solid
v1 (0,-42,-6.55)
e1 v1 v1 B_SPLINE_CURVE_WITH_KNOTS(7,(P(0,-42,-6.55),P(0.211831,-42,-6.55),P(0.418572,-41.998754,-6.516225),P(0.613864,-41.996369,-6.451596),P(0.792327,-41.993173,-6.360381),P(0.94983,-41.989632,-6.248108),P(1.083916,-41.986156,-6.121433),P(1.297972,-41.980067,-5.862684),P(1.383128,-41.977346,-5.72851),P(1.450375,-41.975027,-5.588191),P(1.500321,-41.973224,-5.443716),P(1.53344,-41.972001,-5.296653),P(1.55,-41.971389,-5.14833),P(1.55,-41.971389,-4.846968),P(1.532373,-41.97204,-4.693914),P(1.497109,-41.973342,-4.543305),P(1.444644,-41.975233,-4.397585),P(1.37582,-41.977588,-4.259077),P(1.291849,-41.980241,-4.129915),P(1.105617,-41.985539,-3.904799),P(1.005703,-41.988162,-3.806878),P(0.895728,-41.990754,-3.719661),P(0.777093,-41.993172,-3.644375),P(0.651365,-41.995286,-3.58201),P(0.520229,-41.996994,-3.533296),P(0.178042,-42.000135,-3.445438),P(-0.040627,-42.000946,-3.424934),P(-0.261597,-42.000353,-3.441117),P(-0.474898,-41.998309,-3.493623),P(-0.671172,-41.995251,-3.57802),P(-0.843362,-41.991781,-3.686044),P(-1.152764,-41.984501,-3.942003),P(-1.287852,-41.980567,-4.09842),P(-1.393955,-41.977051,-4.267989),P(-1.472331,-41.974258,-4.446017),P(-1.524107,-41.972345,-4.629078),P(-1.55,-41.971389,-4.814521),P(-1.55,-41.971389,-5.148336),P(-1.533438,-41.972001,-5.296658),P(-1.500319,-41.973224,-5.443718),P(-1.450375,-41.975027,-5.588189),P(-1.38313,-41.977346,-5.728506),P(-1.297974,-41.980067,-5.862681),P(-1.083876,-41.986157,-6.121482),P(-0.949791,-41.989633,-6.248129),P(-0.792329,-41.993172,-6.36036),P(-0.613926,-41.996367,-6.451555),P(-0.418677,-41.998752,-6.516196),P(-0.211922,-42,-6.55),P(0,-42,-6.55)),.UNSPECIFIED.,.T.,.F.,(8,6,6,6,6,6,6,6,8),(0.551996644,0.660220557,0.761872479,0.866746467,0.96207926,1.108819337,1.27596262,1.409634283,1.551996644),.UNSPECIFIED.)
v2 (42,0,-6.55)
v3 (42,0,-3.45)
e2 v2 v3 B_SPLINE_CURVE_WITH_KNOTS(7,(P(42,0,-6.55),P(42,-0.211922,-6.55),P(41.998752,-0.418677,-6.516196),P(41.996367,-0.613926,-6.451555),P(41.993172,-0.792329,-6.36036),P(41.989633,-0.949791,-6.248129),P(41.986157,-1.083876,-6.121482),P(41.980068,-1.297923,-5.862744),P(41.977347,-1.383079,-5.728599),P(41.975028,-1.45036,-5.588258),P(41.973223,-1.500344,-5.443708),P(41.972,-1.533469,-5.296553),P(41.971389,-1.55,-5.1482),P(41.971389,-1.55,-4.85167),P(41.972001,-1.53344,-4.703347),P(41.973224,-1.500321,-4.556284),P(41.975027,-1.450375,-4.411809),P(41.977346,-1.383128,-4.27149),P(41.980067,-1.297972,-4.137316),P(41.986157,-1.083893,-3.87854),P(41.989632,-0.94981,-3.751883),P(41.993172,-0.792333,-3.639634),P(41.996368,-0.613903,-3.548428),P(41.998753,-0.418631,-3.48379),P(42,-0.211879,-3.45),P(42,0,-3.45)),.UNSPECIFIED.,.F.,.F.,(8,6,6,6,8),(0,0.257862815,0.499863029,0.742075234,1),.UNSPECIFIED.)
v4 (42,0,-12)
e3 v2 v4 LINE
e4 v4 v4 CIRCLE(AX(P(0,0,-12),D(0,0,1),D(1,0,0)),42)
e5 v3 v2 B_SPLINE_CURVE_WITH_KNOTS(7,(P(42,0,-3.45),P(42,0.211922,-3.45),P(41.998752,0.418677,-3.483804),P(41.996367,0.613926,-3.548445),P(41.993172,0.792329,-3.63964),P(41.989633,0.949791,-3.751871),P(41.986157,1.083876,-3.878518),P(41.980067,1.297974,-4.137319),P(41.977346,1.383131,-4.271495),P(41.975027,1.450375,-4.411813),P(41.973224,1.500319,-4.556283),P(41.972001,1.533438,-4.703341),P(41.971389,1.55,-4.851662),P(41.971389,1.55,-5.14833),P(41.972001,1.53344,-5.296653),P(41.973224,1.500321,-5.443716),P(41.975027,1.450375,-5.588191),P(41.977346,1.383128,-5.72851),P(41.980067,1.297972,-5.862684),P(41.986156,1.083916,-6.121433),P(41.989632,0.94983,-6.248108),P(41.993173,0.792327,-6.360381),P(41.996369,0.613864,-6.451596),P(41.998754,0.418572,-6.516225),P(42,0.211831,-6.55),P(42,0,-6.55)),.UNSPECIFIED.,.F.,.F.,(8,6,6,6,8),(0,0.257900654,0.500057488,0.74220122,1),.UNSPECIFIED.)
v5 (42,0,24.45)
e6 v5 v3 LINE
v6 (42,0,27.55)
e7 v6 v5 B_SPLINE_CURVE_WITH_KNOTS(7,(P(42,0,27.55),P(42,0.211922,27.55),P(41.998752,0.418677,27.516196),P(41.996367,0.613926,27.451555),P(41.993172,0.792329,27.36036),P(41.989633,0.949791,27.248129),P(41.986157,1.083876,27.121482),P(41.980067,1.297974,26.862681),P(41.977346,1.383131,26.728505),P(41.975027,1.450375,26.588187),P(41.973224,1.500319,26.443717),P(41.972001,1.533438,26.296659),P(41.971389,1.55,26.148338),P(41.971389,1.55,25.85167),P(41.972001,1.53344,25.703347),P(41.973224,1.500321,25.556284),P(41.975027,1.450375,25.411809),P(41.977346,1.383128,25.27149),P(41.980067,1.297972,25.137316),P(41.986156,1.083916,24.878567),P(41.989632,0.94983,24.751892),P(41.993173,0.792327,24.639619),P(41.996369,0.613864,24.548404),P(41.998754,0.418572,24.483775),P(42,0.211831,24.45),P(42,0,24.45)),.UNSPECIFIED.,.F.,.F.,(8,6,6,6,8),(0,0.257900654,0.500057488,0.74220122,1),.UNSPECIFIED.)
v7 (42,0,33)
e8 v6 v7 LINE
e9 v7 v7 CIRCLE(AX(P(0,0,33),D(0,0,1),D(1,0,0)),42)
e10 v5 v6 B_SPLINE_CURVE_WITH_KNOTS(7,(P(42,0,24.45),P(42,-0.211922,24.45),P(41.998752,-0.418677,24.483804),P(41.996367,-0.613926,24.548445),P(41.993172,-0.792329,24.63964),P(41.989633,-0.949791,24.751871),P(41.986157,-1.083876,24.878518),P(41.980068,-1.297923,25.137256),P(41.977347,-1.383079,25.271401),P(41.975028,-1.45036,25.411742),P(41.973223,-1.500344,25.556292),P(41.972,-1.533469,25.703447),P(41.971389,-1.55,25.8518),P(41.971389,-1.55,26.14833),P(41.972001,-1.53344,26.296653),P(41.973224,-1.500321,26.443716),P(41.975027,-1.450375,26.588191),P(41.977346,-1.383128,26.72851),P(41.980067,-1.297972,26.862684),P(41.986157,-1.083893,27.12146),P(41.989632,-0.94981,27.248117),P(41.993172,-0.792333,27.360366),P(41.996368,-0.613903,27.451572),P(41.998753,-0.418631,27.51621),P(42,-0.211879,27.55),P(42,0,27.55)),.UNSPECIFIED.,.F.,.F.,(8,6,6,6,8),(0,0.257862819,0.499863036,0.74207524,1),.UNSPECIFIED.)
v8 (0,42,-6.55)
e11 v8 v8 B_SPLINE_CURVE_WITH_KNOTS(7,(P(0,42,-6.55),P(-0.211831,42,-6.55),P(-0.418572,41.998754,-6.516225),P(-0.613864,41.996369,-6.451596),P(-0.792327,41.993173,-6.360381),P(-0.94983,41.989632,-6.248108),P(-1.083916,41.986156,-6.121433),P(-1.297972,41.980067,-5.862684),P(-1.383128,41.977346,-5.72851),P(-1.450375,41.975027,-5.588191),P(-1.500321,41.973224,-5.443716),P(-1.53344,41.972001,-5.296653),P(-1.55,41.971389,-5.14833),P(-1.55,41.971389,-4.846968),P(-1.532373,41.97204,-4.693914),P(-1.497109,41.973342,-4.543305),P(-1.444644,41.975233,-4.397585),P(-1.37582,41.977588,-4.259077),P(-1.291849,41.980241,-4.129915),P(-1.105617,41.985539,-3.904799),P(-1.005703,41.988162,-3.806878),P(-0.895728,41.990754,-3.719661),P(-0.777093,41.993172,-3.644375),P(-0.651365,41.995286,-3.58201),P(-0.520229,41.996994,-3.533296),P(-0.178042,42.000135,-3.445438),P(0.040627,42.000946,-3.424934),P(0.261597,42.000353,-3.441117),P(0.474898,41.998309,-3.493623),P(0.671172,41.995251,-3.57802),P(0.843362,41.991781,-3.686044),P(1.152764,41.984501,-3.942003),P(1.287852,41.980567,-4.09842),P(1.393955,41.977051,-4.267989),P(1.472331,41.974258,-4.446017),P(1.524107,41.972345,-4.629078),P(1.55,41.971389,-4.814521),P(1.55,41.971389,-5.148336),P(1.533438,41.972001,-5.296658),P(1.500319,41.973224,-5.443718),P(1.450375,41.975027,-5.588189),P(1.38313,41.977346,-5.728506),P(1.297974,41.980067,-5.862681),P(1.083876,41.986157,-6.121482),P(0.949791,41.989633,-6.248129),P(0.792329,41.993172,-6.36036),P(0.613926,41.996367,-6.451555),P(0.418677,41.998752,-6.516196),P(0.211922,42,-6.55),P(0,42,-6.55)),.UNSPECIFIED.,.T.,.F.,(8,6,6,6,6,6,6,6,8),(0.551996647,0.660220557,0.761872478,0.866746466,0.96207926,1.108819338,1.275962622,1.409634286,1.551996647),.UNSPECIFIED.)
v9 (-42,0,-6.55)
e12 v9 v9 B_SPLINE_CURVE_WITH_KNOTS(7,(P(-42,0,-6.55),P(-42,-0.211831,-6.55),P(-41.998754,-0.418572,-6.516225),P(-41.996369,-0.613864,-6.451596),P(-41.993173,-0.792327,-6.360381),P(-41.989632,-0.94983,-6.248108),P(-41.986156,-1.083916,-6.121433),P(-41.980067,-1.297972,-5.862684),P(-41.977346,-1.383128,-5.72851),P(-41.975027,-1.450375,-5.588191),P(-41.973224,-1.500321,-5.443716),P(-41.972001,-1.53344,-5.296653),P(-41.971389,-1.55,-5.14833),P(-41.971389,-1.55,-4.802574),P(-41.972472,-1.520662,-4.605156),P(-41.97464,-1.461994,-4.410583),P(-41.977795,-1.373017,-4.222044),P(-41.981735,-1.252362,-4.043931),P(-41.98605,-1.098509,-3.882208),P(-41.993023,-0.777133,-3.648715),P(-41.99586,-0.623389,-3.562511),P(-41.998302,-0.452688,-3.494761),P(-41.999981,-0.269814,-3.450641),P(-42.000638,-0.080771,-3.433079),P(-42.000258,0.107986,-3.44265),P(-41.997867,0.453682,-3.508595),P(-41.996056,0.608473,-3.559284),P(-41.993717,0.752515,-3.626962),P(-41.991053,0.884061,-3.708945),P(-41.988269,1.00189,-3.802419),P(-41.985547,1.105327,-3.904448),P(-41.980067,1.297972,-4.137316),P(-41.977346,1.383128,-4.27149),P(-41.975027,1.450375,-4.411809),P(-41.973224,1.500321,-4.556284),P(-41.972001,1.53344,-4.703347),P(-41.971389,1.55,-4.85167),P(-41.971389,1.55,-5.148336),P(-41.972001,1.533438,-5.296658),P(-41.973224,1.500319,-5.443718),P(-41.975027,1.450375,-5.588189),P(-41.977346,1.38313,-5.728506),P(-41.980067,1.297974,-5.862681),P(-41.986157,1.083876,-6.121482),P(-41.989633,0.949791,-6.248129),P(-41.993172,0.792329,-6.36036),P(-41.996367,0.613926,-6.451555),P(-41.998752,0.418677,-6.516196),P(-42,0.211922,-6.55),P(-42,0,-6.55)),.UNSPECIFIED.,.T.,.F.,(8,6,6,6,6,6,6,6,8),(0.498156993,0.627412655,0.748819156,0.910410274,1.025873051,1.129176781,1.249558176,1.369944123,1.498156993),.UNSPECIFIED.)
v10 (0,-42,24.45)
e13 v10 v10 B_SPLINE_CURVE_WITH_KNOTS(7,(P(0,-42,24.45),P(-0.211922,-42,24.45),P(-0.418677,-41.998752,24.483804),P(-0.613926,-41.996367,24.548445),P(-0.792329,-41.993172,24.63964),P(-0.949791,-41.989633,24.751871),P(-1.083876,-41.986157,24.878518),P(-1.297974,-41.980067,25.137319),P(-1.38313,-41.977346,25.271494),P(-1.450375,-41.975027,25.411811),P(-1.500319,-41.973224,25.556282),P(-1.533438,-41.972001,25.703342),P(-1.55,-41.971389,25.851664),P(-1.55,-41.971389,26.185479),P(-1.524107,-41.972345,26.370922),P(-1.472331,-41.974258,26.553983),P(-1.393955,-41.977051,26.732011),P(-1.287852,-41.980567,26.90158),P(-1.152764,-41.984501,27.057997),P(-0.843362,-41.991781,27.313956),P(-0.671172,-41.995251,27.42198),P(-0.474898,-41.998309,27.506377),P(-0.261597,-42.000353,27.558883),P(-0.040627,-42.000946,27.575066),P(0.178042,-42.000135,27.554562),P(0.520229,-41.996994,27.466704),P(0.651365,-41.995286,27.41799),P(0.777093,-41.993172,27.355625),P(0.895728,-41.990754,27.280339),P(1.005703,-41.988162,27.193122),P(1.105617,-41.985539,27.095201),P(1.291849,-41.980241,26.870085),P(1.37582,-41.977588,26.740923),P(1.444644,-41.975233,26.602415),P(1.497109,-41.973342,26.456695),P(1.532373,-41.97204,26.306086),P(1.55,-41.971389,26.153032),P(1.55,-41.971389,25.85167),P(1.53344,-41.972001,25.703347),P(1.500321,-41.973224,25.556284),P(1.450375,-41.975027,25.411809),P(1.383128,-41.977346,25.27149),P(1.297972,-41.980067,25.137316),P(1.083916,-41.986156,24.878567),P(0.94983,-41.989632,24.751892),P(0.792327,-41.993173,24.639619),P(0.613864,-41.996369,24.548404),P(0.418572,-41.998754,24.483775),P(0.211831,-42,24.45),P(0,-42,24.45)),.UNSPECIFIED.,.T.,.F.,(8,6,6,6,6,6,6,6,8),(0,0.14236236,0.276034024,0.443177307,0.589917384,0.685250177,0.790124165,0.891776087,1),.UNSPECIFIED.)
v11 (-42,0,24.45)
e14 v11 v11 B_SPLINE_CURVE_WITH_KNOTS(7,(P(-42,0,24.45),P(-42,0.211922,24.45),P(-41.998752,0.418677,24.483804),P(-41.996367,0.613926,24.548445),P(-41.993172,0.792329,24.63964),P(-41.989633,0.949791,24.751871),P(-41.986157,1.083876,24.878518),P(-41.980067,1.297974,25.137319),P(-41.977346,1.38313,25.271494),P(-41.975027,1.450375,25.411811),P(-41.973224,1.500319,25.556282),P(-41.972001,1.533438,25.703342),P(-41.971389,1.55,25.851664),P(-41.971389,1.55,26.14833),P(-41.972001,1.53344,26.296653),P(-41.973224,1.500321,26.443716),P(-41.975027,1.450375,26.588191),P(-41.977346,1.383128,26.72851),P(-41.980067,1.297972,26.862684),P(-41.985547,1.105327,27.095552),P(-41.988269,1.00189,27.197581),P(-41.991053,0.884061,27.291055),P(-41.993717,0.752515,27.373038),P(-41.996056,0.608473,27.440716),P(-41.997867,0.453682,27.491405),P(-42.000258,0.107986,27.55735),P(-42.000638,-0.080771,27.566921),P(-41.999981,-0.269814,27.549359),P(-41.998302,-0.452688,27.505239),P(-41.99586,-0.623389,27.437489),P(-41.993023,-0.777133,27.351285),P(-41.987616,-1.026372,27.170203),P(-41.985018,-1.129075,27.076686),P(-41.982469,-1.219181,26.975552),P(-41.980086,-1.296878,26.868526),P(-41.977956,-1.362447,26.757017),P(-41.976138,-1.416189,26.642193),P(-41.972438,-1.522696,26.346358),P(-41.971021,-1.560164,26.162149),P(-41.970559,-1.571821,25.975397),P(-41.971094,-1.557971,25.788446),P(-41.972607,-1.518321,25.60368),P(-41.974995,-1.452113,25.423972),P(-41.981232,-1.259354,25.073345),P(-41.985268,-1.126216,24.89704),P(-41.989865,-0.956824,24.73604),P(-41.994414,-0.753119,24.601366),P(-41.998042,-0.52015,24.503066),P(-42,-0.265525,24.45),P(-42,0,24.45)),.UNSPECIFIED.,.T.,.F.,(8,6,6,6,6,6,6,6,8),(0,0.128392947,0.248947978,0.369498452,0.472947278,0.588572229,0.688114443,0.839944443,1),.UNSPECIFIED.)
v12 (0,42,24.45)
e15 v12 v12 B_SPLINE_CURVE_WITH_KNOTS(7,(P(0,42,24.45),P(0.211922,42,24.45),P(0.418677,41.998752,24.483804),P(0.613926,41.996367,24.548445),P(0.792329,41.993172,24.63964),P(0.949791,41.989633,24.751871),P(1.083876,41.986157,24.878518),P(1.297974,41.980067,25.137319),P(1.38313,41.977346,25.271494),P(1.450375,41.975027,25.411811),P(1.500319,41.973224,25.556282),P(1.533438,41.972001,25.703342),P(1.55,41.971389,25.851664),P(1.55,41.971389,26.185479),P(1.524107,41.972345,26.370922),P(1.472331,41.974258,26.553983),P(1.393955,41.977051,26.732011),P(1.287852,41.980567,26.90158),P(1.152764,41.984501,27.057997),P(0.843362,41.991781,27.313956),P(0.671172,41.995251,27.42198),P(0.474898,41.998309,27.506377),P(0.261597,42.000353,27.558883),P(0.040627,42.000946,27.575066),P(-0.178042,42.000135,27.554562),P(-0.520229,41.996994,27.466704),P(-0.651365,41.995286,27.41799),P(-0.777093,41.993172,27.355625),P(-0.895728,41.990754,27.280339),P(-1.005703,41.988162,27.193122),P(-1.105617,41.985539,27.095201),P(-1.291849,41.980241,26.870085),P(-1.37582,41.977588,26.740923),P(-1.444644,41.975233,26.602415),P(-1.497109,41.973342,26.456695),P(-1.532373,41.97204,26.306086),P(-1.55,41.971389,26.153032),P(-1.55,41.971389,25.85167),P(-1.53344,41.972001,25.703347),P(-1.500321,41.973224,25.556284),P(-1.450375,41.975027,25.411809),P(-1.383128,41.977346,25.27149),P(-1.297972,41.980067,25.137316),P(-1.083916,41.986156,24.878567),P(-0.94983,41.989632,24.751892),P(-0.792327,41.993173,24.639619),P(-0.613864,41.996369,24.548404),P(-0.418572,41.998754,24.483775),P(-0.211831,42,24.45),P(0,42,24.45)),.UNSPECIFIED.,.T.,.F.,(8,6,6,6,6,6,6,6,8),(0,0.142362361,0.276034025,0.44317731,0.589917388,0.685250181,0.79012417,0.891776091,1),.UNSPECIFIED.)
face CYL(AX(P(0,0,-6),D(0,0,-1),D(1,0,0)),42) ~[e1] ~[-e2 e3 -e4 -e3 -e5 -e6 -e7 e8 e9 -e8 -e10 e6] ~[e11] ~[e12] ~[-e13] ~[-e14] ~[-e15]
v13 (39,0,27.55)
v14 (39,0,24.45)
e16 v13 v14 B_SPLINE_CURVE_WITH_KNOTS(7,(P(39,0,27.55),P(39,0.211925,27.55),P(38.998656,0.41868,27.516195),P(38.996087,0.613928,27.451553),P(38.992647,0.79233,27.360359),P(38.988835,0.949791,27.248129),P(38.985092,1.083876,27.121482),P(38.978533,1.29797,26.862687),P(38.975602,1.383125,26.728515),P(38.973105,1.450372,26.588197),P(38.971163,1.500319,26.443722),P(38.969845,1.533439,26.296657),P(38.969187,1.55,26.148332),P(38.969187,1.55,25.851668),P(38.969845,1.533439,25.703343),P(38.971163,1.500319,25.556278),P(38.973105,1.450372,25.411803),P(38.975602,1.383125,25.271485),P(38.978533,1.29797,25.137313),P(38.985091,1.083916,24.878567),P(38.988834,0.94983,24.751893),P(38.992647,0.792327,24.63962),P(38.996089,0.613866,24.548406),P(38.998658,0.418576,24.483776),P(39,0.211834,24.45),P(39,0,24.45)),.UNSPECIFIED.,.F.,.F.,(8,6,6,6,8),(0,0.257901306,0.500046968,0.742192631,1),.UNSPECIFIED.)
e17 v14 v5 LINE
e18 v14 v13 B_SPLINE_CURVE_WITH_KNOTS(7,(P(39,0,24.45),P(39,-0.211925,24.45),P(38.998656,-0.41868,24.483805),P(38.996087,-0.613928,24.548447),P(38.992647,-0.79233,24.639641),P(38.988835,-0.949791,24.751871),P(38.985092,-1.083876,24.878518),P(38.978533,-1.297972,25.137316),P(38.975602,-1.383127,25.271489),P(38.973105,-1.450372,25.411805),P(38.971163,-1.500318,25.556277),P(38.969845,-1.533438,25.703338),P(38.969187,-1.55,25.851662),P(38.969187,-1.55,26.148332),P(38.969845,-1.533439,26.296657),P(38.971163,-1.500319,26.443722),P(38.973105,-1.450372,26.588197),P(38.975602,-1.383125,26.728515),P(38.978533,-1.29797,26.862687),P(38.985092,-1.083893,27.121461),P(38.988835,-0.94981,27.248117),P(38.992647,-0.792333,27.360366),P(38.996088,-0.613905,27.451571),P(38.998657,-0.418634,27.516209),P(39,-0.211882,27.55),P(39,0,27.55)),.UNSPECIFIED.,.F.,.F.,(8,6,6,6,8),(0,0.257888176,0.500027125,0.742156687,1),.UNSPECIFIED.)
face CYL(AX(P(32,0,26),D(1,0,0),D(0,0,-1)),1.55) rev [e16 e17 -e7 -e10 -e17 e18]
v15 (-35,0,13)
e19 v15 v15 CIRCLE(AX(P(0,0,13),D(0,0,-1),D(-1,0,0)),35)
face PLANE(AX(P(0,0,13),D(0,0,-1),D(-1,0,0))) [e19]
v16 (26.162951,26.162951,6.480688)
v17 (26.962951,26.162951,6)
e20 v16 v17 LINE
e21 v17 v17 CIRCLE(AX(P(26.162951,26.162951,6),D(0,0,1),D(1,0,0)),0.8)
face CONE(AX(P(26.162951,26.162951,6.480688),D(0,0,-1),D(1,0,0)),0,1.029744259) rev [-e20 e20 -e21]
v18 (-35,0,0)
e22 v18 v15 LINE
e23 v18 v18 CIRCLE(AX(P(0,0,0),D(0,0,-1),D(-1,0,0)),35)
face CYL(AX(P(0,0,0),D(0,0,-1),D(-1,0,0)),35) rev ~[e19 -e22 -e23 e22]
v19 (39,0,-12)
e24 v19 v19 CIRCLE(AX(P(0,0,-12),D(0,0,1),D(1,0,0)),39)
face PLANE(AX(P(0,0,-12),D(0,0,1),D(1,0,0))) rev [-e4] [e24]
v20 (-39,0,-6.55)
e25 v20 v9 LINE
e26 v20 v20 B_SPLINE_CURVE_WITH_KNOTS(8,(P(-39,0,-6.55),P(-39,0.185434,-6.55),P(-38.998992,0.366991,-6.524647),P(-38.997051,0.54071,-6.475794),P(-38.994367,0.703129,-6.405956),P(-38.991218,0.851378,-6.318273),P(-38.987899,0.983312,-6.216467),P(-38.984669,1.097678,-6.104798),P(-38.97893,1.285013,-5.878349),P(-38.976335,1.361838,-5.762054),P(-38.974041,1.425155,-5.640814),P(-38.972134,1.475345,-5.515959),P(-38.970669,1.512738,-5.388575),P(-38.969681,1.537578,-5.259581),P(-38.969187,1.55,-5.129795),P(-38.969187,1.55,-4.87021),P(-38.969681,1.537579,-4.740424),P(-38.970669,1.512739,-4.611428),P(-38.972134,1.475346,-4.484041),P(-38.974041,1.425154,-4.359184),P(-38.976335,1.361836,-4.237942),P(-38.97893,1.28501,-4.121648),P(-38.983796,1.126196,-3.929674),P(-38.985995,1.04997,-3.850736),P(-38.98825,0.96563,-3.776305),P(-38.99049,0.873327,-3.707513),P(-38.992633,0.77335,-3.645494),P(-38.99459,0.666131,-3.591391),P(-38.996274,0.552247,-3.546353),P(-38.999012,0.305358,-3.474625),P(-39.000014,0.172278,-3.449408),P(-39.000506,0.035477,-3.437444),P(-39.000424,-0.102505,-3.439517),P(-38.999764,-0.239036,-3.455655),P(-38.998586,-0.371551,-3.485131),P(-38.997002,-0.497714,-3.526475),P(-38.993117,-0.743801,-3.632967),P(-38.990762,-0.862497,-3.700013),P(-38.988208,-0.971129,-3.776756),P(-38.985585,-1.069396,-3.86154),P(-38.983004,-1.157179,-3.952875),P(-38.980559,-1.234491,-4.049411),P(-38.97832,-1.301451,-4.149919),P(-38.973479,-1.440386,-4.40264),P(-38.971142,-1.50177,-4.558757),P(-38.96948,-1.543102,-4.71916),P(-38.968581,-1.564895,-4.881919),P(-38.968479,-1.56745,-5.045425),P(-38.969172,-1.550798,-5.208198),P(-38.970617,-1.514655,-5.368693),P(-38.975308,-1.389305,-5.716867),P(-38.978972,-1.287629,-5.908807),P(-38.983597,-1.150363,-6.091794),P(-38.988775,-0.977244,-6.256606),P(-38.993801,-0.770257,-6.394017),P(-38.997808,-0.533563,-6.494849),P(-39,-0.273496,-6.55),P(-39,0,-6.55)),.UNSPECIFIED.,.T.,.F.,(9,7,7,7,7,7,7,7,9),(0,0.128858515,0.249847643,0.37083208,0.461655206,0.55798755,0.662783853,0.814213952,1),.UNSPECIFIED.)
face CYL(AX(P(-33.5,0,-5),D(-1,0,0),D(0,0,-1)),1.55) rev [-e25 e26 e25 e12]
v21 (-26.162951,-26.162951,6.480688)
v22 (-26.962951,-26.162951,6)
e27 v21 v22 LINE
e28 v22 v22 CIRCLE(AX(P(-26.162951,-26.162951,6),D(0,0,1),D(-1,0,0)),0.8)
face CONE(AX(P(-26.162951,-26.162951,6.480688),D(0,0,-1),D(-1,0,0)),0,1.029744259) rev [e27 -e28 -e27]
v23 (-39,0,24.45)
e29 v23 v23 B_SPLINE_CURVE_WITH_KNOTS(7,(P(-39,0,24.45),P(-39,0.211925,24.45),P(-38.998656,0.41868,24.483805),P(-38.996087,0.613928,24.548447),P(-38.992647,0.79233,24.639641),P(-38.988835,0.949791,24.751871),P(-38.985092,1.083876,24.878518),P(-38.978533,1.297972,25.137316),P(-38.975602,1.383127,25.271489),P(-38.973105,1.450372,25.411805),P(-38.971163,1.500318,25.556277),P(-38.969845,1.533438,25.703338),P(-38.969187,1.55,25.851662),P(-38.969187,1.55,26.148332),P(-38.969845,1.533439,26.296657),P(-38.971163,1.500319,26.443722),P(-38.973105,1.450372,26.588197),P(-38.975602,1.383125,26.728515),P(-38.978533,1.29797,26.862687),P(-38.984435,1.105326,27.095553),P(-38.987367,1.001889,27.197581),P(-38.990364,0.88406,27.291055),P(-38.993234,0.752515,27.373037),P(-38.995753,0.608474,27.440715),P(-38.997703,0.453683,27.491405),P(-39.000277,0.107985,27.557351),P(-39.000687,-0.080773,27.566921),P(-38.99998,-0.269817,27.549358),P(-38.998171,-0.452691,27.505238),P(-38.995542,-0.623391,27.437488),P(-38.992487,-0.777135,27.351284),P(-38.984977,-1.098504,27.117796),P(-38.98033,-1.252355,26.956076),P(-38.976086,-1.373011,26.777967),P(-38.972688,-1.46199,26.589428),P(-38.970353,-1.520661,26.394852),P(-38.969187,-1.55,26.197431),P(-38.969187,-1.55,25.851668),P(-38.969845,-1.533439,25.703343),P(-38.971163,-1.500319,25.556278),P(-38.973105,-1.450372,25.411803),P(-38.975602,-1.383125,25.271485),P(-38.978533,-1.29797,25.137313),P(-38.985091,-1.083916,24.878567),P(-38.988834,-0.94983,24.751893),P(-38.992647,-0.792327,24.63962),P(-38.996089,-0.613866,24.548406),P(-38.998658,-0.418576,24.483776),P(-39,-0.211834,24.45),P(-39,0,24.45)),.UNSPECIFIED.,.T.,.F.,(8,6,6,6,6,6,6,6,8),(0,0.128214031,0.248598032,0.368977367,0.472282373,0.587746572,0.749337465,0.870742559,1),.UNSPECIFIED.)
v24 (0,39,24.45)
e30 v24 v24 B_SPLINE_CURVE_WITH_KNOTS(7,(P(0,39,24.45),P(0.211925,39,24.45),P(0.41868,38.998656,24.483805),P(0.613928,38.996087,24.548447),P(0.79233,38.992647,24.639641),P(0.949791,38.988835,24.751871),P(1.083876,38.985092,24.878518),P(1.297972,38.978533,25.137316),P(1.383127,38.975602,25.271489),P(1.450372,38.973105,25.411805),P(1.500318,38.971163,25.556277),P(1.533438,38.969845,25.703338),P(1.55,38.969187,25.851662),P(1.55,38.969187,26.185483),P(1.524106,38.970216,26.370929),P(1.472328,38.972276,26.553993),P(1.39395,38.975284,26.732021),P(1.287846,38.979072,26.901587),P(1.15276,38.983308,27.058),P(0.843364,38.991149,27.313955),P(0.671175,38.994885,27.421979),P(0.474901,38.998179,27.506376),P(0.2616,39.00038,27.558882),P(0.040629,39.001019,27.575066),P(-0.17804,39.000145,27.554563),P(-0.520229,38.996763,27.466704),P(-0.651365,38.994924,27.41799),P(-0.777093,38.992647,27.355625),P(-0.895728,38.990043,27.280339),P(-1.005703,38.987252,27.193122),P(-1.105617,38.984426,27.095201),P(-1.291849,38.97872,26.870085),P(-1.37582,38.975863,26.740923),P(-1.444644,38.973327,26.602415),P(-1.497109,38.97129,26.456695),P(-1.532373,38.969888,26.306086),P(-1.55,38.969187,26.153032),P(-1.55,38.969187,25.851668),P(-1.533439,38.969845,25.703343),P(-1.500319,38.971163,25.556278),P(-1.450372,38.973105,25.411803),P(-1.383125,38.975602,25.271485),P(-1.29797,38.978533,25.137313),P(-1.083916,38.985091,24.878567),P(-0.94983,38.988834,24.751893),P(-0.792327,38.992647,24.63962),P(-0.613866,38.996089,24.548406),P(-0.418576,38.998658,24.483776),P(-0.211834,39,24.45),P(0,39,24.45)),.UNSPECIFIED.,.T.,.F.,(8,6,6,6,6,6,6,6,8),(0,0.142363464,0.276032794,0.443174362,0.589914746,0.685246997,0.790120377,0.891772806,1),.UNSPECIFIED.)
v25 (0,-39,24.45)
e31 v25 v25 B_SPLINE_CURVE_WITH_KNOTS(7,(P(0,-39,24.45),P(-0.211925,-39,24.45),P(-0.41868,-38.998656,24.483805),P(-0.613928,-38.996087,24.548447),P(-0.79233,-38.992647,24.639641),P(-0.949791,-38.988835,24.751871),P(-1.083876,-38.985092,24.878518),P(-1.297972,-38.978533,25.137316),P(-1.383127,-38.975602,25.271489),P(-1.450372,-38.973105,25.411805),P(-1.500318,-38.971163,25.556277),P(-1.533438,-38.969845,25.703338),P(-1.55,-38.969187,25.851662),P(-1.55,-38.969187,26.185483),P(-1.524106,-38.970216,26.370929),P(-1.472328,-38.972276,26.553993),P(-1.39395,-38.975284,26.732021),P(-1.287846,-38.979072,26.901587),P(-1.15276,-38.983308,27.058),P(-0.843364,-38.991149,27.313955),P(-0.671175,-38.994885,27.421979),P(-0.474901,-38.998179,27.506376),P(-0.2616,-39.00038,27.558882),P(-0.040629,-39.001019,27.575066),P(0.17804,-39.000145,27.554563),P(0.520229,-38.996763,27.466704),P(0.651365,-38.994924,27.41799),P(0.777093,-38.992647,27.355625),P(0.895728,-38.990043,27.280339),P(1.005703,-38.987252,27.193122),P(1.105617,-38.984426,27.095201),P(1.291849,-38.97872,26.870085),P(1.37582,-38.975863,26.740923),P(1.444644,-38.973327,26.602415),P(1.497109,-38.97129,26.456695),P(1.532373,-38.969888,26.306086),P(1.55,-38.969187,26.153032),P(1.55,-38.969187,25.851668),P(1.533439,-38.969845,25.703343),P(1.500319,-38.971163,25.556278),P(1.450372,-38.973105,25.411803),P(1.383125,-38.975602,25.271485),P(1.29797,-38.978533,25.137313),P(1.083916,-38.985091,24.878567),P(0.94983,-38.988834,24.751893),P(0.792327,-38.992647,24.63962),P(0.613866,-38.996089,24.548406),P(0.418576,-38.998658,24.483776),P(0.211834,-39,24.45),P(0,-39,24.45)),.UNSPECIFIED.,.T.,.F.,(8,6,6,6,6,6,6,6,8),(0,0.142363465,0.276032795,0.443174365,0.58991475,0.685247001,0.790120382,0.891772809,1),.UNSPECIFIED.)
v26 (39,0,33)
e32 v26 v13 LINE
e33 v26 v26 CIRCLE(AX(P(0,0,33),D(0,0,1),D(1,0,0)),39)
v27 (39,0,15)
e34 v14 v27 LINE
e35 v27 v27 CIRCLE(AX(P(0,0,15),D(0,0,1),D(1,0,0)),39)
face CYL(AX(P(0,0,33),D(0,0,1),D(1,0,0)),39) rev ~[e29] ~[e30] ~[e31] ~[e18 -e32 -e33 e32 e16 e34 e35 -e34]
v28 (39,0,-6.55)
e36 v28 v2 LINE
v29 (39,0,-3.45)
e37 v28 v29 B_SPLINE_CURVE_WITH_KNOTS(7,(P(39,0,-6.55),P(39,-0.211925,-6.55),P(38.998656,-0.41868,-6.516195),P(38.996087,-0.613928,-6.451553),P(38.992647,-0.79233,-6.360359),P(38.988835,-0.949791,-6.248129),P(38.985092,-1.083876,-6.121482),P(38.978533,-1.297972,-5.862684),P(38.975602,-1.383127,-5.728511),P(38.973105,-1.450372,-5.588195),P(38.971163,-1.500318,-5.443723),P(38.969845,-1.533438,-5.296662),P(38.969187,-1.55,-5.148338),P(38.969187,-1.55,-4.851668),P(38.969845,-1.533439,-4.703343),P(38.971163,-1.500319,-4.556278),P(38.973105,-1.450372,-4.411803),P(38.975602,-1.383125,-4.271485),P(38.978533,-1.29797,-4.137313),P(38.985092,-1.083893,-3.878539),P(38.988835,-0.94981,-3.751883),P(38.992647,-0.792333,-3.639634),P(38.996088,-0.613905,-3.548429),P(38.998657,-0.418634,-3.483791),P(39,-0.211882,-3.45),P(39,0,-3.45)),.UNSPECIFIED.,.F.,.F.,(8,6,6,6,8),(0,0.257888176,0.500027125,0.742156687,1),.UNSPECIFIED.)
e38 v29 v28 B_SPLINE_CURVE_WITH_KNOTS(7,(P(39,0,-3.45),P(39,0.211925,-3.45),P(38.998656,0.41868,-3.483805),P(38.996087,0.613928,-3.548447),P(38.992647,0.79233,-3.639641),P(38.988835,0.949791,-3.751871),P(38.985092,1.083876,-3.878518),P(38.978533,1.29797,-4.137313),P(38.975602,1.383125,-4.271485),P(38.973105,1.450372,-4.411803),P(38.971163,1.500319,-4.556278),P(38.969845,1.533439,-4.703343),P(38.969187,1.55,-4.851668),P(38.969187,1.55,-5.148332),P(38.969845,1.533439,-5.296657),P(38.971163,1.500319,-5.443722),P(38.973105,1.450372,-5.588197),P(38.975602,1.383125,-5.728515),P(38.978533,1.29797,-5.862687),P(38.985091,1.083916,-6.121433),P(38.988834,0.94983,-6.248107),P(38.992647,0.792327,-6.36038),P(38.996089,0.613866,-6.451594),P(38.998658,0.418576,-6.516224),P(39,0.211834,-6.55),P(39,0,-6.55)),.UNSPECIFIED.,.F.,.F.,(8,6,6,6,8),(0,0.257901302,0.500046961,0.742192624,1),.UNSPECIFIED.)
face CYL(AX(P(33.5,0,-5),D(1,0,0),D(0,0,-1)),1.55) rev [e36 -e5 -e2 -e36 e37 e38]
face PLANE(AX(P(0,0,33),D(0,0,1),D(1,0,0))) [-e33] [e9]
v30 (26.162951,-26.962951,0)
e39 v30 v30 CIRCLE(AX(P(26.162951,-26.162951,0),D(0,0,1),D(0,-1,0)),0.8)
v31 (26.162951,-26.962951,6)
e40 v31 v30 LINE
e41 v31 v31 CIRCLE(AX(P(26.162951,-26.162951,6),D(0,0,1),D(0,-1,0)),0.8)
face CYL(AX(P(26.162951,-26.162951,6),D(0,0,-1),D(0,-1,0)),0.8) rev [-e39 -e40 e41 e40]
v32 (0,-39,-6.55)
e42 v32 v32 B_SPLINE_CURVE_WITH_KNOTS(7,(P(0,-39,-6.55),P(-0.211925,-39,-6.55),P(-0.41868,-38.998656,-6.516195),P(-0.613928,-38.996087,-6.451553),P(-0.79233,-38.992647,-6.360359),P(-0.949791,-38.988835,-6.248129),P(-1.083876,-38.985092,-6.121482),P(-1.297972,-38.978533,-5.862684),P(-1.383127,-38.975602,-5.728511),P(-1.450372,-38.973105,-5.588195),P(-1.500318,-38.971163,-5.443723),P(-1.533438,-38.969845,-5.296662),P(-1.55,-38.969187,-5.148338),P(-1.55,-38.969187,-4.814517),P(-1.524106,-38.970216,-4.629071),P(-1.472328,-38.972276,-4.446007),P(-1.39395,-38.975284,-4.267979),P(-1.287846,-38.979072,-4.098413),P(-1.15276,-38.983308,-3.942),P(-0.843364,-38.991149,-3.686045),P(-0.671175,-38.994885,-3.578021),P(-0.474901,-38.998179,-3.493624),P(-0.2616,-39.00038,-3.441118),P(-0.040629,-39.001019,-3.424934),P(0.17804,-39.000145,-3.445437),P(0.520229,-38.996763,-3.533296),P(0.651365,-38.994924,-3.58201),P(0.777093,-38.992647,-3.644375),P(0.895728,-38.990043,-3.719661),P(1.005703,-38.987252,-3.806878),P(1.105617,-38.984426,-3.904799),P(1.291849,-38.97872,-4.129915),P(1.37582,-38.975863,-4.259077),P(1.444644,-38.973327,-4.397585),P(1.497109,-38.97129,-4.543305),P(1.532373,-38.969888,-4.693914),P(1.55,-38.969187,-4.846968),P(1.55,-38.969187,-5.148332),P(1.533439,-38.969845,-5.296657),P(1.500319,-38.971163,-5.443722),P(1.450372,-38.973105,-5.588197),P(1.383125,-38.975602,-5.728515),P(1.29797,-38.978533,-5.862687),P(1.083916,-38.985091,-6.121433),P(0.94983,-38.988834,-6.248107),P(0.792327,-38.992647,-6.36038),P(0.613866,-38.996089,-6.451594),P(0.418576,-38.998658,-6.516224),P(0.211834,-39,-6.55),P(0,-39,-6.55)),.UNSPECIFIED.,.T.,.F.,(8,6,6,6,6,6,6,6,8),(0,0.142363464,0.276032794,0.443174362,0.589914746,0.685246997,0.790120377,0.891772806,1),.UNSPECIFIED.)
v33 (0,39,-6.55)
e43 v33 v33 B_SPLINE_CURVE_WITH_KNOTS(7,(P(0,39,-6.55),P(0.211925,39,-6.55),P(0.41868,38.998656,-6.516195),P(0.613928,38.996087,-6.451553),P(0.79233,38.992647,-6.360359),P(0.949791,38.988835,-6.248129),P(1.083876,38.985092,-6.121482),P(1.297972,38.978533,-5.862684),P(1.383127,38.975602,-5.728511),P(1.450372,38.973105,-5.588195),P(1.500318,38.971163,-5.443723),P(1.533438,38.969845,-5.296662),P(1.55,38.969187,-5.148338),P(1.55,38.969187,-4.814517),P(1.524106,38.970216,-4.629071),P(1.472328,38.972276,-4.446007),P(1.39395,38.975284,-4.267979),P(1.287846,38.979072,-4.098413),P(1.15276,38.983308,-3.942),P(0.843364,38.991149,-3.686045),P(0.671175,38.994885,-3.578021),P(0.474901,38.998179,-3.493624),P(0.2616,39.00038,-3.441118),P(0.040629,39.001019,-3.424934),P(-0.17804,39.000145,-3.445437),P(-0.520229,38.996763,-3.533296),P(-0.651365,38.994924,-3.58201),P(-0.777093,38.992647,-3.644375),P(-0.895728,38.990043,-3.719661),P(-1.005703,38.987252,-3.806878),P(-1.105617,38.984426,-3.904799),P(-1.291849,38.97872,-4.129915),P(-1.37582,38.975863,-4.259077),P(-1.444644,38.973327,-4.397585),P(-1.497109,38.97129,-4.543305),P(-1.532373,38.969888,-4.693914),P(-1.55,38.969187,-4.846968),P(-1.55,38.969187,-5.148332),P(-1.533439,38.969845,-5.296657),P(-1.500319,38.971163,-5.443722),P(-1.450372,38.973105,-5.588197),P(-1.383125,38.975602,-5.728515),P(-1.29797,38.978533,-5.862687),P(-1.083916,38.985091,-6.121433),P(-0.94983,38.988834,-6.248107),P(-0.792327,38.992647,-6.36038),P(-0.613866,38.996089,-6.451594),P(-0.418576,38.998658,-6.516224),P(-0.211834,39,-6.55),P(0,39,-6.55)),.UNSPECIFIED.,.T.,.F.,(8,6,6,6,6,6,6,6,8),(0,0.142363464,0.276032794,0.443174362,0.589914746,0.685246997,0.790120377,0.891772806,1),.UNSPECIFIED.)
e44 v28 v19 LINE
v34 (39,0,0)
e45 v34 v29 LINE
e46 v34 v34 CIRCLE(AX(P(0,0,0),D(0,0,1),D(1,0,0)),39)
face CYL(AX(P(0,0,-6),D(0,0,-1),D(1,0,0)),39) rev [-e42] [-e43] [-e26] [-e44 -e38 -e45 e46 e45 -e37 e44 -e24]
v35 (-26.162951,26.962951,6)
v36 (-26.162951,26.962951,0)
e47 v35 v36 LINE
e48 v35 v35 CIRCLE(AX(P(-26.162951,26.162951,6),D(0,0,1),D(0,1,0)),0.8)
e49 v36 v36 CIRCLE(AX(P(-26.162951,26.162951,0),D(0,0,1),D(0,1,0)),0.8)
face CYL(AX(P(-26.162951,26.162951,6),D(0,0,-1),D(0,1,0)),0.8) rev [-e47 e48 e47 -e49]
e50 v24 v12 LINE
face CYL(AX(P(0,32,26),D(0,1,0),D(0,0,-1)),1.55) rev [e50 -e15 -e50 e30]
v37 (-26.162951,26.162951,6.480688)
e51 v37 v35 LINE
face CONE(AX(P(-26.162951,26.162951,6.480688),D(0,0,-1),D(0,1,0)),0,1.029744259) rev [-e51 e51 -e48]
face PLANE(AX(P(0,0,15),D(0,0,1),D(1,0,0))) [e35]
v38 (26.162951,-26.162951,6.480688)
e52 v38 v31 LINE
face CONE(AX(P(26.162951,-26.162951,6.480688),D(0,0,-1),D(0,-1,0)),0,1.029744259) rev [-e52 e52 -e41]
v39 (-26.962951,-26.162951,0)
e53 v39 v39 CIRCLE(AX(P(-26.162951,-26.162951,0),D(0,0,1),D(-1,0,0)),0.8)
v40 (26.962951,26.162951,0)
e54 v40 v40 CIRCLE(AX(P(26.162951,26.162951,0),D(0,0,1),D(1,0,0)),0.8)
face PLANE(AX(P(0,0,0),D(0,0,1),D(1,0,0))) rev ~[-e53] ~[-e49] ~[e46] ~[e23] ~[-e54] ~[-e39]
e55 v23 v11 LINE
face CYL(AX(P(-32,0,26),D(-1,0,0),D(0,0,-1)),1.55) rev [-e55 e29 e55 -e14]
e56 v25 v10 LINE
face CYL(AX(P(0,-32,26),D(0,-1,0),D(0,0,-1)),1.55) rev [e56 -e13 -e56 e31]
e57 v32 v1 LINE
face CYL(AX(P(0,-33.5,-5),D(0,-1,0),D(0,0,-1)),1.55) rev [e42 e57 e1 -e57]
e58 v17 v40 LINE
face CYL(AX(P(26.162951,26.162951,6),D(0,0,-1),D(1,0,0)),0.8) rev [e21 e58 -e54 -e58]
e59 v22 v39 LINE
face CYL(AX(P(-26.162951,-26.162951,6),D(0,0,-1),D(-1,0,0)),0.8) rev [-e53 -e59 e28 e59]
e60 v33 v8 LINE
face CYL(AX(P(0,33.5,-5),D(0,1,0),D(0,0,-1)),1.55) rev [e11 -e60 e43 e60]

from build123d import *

# Parameters (mm, degrees)
ESQUISSE1_R                  = 42
BOSS_EXTRU_1_DEPTH           = 33
R_P_TITION_CIRCULAIRE1_COUNT = 4
ESQUISSE5_R                  = 35
ENL_V_MAT_EXTRU_1_DEPTH      = 13
ESQUISSE7_R                  = 39
ENL_V_MAT_EXTRU_2_DEPTH      = 18
R_P_TITION_CIRCULAIRE2_COUNT = 4
ESQUISSE14_W                 = 3
ESQUISSE14_H                 = 12
R_P_TITION_CIRCULAIRE3_COUNT = 4


with BuildPart() as part:
    # Esquisse1 → Boss.-Extru.1 (new body)
    with BuildSketch(Plane.XY):
        Circle(ESQUISSE1_R)
    extrude(amount=BOSS_EXTRU_1_DEPTH)

    # Esquisse3 → Trou taraudé M21 (revolve, cut)
    with BuildSketch(Plane(origin=(-26.162950904, 26.162950904, 0), x_dir=(0, 1, 0), z_dir=(1, 0, 0))):
        Polygon((0, 0), (0, 6.480688495), (0.8, 6), (0.8, 0), align=None)
    trou_taraud_m21 = revolve(axis=Axis((-26.162950904, 26.162950904, -6.35), (0, 0, 1)), mode=Mode.SUBTRACT)

    # Répétition circulaire1: Trou taraudé M21 ×4 about axis
    r_p_tition_circulaire1_axis = Axis((0, 0, 0), (0, 0, 1))
    for i in range(1, R_P_TITION_CIRCULAIRE1_COUNT):
        add(trou_taraud_m21.rotate(r_p_tition_circulaire1_axis, i * 360 / R_P_TITION_CIRCULAIRE1_COUNT), mode=Mode.SUBTRACT)

    # Esquisse5 → Enlèv. mat.-Extru.1 (cut)
    with BuildSketch(Plane(origin=(0, 0, 0), x_dir=(-1, 0, 0), z_dir=(0, 0, -1))):
        Circle(ESQUISSE5_R)
    extrude(amount=-ENL_V_MAT_EXTRU_1_DEPTH, mode=Mode.SUBTRACT)

    # Esquisse7 → Enlèv. mat.-Extru.2 (cut)
    with BuildSketch(Plane.XY.offset(33)):
        Circle(ESQUISSE7_R)
    extrude(amount=-ENL_V_MAT_EXTRU_2_DEPTH, mode=Mode.SUBTRACT)

    # Esquisse13 → Dégagement M2.51 (revolve, cut)
    with BuildSketch(Plane(origin=(42, 0, 26), x_dir=(0, 0, -1), z_dir=(0, 1, 0))):
        Polygon((0, 0), (0, 10.931333959), (1.55, 10), (1.55, 0), align=None)
    d_gagement_m2_51 = revolve(axis=Axis((48.35, 0, 26), (-1, 0, 0)), mode=Mode.SUBTRACT)

    # Répétition circulaire2: Dégagement M2.51 ×4 about axis
    r_p_tition_circulaire2_axis = Axis((0, 0, 33), (0, 0, 1))
    for i in range(1, R_P_TITION_CIRCULAIRE2_COUNT):
        add(d_gagement_m2_51.rotate(r_p_tition_circulaire2_axis, i * 360 / R_P_TITION_CIRCULAIRE2_COUNT), mode=Mode.SUBTRACT)

    # Esquisse14 → Révolution1 (revolve)
    with BuildSketch(Plane(origin=(0, 0, 0), x_dir=(1, 0, 0), z_dir=(0, 1, 0))):
        with Locations((40.5, 6)):
            Rectangle(ESQUISSE14_W, ESQUISSE14_H)
    revolve(axis=Axis((0, 0, -20.123212499), (0, 0, 1)))

    # Esquisse15 → Dégagement M2.52 (revolve, cut)
    with BuildSketch(Plane(origin=(42, 0, -5), x_dir=(0, 0, -1), z_dir=(0, 1, 0))):
        Polygon((0, 0), (0, 9.431333959), (1.55, 8.5), (1.55, 0), align=None)
    d_gagement_m2_52 = revolve(axis=Axis((48.35, 0, -5), (-1, 0, 0)), mode=Mode.SUBTRACT)

    # Répétition circulaire3: Dégagement M2.52 ×4 about axis
    r_p_tition_circulaire3_axis = Axis((0, 0, 0), (0, 0, -1))
    for i in range(1, R_P_TITION_CIRCULAIRE3_COUNT):
        add(d_gagement_m2_52.rotate(r_p_tition_circulaire3_axis, i * 360 / R_P_TITION_CIRCULAIRE3_COUNT), mode=Mode.SUBTRACT)


solid = part.part
